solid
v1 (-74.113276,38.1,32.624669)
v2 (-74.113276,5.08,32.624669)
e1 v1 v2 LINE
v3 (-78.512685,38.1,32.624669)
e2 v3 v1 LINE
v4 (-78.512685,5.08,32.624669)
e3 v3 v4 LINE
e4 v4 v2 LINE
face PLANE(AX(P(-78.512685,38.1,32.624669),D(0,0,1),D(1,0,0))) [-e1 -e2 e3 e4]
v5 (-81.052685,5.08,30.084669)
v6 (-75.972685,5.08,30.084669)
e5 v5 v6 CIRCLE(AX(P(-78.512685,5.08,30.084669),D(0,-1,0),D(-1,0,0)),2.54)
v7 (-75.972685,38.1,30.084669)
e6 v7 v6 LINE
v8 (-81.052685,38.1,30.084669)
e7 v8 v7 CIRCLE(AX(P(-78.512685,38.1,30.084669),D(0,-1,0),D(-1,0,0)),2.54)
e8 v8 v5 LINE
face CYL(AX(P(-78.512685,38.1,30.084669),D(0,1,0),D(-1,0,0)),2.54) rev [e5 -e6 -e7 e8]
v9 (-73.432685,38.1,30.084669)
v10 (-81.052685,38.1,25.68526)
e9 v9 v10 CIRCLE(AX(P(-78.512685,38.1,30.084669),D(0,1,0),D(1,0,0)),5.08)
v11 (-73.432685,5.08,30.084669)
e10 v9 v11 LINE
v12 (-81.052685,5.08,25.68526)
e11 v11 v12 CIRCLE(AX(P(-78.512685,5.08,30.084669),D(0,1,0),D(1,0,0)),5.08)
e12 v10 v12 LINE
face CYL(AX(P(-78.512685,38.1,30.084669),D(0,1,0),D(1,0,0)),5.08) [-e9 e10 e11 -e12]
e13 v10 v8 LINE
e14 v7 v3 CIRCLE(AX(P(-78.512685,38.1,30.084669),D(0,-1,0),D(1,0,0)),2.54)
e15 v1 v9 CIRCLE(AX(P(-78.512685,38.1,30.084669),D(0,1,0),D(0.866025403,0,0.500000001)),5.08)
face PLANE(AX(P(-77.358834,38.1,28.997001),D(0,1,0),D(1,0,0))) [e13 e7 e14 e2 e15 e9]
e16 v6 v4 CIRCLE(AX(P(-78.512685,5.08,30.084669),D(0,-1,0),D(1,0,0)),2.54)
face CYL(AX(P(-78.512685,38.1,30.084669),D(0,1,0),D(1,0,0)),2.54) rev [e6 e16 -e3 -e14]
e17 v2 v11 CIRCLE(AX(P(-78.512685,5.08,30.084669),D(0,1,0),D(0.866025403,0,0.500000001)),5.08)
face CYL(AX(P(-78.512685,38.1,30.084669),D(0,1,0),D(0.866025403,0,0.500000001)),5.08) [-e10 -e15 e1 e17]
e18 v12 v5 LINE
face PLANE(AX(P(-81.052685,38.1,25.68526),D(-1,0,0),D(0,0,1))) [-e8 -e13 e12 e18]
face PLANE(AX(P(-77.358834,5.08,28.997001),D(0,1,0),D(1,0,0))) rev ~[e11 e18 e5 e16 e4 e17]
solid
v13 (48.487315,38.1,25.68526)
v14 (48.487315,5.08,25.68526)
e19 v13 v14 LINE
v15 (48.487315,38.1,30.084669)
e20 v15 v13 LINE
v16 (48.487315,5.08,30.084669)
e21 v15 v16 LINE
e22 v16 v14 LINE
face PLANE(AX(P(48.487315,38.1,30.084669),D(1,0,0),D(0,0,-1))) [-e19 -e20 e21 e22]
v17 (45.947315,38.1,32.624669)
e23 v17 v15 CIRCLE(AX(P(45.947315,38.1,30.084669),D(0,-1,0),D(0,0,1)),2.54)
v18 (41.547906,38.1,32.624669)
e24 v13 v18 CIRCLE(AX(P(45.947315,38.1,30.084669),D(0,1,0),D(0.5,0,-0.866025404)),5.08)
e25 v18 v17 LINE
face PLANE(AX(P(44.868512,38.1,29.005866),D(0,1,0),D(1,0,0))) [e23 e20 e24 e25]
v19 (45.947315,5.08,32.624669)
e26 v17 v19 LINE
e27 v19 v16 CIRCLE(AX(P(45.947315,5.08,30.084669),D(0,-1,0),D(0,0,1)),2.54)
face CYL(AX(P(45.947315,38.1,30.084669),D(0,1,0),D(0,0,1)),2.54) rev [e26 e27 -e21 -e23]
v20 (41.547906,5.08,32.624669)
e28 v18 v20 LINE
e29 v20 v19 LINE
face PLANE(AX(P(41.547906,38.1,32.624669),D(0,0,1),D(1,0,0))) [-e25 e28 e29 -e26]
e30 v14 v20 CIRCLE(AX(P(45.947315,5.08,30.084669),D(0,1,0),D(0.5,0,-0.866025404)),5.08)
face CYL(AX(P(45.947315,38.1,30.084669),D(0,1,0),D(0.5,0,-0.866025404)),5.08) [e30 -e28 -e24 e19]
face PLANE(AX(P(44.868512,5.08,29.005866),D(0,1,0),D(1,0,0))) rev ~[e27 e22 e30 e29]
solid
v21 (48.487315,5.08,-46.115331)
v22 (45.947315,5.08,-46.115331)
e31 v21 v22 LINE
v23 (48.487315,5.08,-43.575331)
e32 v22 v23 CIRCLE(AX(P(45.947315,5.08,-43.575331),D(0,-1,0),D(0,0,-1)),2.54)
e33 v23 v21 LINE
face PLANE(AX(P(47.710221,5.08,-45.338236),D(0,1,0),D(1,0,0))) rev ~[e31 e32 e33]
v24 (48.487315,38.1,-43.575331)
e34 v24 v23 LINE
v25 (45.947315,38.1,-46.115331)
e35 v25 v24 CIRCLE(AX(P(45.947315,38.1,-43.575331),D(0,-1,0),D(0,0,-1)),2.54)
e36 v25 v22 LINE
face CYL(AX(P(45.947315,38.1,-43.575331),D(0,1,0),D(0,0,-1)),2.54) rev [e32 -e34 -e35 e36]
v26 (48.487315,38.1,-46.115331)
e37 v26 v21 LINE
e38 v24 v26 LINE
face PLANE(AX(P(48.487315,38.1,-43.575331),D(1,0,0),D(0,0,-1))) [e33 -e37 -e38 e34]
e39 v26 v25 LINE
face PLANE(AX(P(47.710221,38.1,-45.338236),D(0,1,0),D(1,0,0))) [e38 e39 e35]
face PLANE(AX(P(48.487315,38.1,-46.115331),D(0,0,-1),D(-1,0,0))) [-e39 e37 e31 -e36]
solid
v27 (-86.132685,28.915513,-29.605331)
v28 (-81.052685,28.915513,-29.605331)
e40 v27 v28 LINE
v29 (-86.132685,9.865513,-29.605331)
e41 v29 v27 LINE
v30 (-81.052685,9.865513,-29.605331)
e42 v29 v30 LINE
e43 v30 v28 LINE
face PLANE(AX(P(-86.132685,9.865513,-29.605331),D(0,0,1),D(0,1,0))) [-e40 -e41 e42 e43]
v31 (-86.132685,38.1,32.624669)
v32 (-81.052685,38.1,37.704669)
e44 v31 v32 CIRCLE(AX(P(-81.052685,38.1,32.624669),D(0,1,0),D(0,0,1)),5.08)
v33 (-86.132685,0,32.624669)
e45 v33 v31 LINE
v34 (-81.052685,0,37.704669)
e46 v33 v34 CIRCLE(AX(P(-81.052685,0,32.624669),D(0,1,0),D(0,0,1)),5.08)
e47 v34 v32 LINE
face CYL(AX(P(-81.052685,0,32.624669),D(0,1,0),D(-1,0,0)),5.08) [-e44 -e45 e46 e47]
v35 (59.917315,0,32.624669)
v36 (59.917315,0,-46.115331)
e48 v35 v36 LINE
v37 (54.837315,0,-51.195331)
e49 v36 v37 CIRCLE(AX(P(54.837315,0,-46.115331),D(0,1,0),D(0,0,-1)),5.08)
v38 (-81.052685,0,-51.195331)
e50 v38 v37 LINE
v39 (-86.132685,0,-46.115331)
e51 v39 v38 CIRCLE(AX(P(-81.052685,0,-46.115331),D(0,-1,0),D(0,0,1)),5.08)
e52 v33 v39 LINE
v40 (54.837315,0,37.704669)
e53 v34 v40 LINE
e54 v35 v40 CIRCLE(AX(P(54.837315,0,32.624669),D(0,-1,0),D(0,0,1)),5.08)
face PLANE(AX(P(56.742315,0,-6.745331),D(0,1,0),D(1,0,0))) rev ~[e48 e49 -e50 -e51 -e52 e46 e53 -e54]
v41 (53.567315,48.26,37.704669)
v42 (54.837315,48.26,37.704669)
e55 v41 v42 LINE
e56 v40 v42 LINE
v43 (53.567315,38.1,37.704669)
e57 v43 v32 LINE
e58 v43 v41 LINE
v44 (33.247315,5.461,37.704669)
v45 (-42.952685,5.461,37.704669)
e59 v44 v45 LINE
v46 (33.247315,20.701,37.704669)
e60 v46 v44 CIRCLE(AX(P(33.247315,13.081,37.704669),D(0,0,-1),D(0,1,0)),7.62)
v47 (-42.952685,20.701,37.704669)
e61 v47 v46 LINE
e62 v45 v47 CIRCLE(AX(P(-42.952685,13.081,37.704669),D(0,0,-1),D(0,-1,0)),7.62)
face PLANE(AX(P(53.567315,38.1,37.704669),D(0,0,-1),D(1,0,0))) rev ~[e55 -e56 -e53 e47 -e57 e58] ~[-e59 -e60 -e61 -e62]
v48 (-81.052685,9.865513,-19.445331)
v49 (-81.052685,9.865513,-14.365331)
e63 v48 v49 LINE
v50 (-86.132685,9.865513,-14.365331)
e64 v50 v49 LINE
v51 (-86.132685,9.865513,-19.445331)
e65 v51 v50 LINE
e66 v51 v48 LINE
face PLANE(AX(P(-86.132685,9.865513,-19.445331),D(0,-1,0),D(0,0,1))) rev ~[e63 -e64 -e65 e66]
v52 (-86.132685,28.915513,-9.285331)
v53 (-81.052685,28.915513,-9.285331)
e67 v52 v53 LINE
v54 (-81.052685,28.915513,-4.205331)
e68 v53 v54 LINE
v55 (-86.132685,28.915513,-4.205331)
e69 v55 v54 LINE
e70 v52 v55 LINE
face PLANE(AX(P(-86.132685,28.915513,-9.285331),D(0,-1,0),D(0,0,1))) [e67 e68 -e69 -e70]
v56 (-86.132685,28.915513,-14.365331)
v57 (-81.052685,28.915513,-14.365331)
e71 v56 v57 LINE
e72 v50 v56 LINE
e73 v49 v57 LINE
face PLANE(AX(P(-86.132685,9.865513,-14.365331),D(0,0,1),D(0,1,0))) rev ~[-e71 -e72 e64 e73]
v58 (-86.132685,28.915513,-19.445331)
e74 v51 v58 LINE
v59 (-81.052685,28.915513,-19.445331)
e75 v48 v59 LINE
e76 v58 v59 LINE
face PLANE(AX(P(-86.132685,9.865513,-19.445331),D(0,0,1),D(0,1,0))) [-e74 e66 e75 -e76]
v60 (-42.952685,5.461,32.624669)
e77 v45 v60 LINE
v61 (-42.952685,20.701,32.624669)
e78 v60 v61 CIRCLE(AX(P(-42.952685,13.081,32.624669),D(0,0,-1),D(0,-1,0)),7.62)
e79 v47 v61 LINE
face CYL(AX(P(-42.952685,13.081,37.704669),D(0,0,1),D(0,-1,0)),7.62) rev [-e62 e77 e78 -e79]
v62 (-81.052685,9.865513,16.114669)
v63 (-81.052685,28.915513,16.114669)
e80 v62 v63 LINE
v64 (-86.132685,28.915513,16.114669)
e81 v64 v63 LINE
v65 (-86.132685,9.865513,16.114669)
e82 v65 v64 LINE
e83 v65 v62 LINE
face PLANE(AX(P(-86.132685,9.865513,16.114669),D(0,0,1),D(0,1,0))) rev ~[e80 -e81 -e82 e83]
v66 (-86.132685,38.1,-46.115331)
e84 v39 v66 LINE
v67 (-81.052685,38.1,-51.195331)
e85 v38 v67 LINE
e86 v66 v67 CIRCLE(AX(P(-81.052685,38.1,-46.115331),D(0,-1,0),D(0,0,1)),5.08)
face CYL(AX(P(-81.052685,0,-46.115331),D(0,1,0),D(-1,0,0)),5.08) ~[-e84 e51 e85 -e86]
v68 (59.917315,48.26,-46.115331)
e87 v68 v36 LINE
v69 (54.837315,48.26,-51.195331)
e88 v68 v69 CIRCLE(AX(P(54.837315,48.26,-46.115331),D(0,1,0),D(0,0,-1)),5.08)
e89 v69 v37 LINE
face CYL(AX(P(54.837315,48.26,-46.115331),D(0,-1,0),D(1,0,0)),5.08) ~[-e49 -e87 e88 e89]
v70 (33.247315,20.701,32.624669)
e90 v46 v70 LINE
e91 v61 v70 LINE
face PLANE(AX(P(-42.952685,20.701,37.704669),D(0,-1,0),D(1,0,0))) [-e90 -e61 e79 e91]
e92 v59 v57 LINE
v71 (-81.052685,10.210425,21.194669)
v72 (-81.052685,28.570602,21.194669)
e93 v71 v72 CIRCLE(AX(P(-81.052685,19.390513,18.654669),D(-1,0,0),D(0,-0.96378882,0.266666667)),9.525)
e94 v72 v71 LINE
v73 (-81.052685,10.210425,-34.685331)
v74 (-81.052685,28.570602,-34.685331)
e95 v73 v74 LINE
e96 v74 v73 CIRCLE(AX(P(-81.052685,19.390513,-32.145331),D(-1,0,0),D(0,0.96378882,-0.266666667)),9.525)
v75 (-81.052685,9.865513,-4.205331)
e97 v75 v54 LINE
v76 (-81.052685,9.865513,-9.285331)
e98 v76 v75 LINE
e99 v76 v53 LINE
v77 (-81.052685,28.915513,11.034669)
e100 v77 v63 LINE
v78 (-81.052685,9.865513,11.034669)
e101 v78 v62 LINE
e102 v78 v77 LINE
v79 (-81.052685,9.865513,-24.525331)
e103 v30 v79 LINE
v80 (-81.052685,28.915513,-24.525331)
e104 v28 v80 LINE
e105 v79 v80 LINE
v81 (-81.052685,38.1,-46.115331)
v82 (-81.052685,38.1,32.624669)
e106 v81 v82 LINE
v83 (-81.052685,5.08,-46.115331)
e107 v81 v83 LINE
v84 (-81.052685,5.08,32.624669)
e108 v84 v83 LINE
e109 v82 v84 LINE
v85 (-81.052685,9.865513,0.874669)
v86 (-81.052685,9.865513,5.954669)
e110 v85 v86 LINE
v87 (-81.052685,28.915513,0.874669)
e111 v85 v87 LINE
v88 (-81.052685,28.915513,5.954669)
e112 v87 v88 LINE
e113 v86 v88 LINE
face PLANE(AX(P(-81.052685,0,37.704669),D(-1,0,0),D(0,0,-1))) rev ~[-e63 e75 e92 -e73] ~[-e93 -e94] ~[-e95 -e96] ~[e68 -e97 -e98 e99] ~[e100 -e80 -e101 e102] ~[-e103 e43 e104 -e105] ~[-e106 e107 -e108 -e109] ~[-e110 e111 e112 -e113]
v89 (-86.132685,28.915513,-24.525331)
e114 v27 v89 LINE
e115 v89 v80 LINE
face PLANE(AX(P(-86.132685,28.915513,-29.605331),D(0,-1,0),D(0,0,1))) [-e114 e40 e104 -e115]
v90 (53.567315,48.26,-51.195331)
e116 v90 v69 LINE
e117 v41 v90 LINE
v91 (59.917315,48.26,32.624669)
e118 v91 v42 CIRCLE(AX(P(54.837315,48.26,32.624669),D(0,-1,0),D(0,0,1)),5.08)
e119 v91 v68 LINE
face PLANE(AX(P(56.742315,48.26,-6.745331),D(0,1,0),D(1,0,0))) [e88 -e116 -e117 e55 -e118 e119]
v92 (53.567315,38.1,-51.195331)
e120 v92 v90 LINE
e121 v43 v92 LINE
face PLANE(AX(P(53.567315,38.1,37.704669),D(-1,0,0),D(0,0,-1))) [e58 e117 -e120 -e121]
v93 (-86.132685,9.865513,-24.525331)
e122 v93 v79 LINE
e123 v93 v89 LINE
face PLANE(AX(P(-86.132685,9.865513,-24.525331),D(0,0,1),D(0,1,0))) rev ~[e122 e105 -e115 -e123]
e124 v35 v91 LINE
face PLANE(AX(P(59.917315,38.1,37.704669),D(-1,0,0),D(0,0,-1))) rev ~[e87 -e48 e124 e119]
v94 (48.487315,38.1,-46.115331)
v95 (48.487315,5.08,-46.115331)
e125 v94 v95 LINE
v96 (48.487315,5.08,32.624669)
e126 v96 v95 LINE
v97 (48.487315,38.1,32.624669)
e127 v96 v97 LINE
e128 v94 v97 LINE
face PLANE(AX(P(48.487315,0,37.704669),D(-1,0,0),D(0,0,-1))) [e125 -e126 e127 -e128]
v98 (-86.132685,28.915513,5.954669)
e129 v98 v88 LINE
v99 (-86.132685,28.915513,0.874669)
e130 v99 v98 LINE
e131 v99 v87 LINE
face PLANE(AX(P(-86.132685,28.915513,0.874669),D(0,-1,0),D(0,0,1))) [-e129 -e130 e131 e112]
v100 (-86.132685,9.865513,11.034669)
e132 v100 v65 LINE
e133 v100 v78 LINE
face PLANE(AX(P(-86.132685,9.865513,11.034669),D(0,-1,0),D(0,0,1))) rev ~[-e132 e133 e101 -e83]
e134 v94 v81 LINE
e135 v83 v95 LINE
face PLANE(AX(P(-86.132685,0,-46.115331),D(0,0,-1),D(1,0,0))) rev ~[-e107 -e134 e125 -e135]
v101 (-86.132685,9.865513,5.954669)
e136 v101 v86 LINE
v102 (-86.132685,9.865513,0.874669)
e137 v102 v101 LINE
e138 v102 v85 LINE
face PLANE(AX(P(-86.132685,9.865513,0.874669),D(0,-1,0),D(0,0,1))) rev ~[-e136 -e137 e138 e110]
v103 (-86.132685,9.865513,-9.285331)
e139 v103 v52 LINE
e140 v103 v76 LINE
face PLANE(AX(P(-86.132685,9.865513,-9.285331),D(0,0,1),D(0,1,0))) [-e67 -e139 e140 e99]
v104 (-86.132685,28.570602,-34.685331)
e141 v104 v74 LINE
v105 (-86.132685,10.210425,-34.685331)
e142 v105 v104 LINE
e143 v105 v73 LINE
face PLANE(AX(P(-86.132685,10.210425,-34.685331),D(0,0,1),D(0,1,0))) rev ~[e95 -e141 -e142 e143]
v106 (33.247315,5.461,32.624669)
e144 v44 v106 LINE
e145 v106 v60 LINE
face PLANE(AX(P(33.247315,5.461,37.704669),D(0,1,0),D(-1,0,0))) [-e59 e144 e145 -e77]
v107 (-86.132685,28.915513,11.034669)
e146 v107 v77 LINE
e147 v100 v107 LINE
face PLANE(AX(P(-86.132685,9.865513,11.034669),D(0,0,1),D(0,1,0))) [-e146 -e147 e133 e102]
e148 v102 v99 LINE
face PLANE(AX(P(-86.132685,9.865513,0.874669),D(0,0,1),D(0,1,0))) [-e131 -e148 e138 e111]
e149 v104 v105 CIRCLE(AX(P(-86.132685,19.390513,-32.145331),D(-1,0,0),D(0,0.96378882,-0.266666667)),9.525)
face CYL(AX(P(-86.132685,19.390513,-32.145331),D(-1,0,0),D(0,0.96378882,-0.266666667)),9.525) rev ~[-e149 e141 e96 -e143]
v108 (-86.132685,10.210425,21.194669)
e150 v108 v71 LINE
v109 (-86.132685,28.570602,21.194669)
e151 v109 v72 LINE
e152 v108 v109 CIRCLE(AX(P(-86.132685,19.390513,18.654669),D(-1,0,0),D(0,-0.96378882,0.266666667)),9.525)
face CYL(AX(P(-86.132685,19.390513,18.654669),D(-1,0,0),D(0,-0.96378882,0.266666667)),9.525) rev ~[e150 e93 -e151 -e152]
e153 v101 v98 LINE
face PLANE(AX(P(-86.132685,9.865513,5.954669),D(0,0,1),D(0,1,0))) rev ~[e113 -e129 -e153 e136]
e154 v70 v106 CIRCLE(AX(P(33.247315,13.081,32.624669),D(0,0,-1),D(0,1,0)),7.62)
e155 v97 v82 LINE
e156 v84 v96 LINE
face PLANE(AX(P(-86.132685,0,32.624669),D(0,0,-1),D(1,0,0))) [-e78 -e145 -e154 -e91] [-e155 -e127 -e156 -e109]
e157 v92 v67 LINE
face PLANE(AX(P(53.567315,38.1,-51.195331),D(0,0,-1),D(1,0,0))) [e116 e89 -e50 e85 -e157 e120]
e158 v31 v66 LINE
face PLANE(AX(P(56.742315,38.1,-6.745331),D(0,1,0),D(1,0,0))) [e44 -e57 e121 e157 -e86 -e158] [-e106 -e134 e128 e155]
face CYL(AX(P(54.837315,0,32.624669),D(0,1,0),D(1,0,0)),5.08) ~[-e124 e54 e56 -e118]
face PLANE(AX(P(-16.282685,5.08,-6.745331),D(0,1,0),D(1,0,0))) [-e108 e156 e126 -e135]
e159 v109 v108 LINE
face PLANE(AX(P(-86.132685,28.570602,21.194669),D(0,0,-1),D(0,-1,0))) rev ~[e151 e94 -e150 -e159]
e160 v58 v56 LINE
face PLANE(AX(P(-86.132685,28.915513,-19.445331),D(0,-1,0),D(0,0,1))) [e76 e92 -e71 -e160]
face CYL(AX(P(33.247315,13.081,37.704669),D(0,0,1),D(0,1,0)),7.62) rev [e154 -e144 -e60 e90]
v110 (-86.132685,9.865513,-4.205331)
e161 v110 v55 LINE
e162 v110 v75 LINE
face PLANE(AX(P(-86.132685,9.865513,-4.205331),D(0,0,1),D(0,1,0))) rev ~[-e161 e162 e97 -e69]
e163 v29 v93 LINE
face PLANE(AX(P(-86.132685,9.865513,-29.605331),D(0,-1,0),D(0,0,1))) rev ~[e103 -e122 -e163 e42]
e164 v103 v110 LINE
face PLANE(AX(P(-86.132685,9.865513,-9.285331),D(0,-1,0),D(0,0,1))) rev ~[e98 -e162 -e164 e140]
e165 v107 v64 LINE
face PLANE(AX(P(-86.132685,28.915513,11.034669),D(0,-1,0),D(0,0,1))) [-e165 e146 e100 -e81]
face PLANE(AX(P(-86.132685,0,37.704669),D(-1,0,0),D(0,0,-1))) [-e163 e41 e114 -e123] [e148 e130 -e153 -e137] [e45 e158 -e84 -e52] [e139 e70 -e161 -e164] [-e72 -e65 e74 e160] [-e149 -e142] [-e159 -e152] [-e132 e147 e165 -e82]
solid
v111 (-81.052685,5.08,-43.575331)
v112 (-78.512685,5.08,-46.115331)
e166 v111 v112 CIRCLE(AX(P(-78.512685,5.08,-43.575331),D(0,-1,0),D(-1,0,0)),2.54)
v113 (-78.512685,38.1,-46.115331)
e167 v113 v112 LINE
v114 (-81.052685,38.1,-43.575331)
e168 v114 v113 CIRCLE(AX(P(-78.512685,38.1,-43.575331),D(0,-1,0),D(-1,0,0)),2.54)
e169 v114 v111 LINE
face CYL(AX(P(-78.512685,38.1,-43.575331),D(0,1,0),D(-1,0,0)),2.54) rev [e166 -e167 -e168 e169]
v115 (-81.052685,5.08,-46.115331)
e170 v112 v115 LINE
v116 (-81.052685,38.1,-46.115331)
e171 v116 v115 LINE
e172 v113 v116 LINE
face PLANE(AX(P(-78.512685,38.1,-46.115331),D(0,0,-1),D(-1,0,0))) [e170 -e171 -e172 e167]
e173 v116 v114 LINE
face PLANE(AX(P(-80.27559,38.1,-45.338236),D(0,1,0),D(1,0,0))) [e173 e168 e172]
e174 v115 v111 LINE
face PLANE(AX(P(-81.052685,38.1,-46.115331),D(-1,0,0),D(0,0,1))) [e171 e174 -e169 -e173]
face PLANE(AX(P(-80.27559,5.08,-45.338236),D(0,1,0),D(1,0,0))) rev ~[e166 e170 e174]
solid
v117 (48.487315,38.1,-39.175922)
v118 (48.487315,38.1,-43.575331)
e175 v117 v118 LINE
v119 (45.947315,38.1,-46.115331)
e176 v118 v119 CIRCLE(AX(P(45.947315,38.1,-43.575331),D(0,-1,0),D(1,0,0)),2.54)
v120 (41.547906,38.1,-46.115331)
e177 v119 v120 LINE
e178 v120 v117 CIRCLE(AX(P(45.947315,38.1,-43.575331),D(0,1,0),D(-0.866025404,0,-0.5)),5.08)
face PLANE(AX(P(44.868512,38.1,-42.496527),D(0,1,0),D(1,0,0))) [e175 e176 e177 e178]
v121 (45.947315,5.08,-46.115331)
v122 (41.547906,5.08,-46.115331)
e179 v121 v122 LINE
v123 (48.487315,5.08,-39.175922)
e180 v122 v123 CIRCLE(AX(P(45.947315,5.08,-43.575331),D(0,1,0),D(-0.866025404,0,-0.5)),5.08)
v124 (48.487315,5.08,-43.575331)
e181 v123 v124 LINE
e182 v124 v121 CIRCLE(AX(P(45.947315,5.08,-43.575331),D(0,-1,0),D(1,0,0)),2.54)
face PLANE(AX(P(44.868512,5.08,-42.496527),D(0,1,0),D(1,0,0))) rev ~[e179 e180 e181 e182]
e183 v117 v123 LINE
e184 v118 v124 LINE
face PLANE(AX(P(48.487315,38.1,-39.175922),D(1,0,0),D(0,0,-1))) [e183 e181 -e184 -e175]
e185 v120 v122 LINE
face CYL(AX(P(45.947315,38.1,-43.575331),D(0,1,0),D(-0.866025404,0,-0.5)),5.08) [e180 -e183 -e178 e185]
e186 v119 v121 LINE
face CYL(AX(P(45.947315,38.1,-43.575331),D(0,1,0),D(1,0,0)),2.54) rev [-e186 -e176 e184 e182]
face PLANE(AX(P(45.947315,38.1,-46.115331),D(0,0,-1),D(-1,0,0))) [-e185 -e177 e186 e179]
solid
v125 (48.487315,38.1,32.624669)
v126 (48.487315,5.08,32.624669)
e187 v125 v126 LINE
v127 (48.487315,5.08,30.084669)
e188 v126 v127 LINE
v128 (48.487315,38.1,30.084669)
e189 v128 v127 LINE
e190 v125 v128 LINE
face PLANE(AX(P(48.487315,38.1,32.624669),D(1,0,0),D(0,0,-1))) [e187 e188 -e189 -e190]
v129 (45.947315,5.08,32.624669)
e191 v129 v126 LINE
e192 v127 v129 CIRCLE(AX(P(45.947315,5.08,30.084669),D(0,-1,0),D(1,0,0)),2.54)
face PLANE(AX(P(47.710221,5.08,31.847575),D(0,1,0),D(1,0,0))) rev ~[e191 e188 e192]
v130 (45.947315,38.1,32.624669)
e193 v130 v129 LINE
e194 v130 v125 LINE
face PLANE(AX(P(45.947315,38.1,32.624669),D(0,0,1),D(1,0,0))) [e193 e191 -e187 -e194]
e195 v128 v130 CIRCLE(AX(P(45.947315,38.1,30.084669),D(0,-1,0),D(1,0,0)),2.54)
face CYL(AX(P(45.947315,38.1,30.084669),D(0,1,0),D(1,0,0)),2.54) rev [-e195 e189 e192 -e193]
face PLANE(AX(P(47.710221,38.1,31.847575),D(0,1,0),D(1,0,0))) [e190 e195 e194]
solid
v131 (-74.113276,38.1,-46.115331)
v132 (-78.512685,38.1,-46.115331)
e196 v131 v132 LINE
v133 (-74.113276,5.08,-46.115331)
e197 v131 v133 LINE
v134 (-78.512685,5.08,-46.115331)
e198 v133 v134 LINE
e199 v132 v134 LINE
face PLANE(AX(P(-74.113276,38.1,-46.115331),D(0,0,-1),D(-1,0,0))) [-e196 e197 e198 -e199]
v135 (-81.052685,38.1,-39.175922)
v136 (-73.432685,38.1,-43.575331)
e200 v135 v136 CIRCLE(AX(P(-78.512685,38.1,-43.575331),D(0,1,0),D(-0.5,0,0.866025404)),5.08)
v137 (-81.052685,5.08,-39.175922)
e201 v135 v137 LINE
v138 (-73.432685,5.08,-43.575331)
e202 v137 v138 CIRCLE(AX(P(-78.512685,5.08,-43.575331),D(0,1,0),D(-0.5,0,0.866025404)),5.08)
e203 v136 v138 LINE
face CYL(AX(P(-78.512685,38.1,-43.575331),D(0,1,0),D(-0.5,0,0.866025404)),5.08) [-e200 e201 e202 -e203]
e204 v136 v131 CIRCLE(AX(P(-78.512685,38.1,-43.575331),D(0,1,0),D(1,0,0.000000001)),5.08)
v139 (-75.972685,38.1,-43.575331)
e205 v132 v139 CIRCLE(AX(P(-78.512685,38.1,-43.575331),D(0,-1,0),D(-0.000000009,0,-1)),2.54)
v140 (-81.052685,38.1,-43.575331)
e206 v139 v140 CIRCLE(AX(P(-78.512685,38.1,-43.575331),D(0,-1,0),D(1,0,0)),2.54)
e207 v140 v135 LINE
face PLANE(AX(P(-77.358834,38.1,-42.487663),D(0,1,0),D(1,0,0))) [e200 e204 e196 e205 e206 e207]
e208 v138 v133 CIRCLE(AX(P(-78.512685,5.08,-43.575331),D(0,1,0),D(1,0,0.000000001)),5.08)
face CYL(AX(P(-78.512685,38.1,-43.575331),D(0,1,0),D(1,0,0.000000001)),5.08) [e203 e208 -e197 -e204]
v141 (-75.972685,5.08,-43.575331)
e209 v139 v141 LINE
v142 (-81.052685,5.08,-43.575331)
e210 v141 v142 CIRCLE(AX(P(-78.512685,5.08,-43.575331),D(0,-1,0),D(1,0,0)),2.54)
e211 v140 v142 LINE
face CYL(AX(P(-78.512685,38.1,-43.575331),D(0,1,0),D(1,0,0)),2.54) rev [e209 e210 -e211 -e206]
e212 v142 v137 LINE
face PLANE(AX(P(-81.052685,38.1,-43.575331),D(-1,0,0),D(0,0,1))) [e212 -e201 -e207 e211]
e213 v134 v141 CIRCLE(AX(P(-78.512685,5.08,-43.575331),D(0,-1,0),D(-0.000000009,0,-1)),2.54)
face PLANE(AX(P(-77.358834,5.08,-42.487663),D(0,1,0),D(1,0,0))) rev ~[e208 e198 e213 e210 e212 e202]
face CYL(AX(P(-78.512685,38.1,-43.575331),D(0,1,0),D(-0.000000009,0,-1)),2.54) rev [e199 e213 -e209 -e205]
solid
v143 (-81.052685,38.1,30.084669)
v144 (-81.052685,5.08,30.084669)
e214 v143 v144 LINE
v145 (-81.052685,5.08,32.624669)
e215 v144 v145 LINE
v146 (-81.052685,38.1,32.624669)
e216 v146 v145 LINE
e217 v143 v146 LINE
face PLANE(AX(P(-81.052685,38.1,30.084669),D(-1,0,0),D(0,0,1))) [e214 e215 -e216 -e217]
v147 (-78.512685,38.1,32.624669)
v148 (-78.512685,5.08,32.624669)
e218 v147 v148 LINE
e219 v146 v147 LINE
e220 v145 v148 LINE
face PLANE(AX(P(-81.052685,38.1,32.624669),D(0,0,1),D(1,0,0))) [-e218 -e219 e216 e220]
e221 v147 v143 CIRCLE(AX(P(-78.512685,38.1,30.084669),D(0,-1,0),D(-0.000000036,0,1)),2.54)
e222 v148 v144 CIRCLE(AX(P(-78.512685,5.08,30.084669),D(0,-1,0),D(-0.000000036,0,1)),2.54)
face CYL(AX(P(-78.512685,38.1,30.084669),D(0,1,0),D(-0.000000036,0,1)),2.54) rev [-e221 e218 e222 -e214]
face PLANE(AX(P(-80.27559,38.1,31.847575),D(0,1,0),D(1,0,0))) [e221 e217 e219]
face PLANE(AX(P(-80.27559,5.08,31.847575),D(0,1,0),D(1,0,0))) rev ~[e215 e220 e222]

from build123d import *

# Parameters (mm, degrees)
SKETCH1_W             = 139.7
SKETCH1_H             = 88.9
BOSS_EXTRUDE1_DEPTH   = 38.1
SHELL1_T              = -5.08
SKETCH2_W             = 5.08
SKETCH2_H             = 19.05
CUT_EXTRUDE1_DEPTH    = 5.08
CUT_EXTRUDE2_DEPTH    = 5.08
BOSS_EXTRUDE2_DEPTH   = 33.02
BOSS_EXTRUDE2_2_DEPTH = 33.02
BOSS_EXTRUDE2_3_DEPTH = 33.02
BOSS_EXTRUDE2_4_DEPTH = 33.02
BOSS_EXTRUDE2_5_DEPTH = 33.02
BOSS_EXTRUDE2_6_DEPTH = 33.02
BOSS_EXTRUDE2_7_DEPTH = 33.02
BOSS_EXTRUDE2_8_DEPTH = 33.02
SKETCH5_W             = 6.35
SKETCH5_H             = 88.9
BOSS_EXTRUDE3_DEPTH   = 38.1
SKETCH6_W             = 6.35
SKETCH6_H             = 88.9
BOSS_EXTRUDE4_DEPTH   = 10.16
FILLET1_R             = 5.08


with BuildPart() as part:
    # Sketch1 → Boss-Extrude1 (new body)
    with BuildSketch(Plane(origin=(0, 0, 0), x_dir=(1, 0, 0), z_dir=(0, 1, 0))):
        with Locations((-16.282684825, 6.745330739)):
            Rectangle(SKETCH1_W, SKETCH1_H)
    extrude(amount=BOSS_EXTRUDE1_DEPTH)

    # Shell1
    shell1_openings = [part.faces().sort_by_distance(p)[0] for p in [
        (-16.282684825, 38.1, -6.745330739),
    ]]
    offset(amount=SHELL1_T, openings=shell1_openings, kind=Kind.INTERSECTION)

    # Sketch2 → Cut-Extrude1 (cut)
    with BuildSketch(Plane.ZY.offset(86.132684825)):
        with BuildLine():
            Line((-34.685330739, 10.210424953), (-34.685330739, 28.570601967))
            ThreePointArc((-34.685330739, 28.570601967), (-41.670330739, 19.39051346), (-34.685330739, 10.210424953))
        make_face()
        with Locations((-27.065330739, 19.39051346)):
            Rectangle(SKETCH2_W, SKETCH2_H)
        with Locations((-16.905330739, 19.39051346)):
            Rectangle(SKETCH2_W, SKETCH2_H)
        with Locations((-6.745330739, 19.39051346)):
            Rectangle(SKETCH2_W, SKETCH2_H)
        with Locations((3.414669261, 19.39051346)):
            Rectangle(SKETCH2_W, SKETCH2_H)
        with Locations((13.574669261, 19.39051346)):
            Rectangle(SKETCH2_W, SKETCH2_H)
        with BuildLine():
            ThreePointArc((21.194669261, 10.210424953), (28.179669261, 19.39051346), (21.194669261, 28.570601967))
            Line((21.194669261, 28.570601967), (21.194669261, 10.210424953))
        make_face()
    extrude(amount=-CUT_EXTRUDE1_DEPTH, mode=Mode.SUBTRACT)

    # Sketch3 → Cut-Extrude2 (cut)
    with BuildSketch(Plane.XY.offset(37.704669261)):
        with BuildLine():
            Line((33.247315175, 5.461), (-42.952684825, 5.461))
            ThreePointArc((-42.952684825, 5.461), (-50.572684825, 13.081), (-42.952684825, 20.701))
            Line((-42.952684825, 20.701), (33.247315175, 20.701))
            ThreePointArc((33.247315175, 20.701), (40.867315175, 13.081), (33.247315175, 5.461))
        make_face()
    extrude(amount=-CUT_EXTRUDE2_DEPTH, mode=Mode.SUBTRACT)

    # Sketch5 → Boss-Extrude3 (add)
    with BuildSketch(Plane(origin=(0, 38.1, 0), x_dir=(1, 0, 0), z_dir=(0, 1, 0))):
        with Locations((56.742315175, 6.745330739)):
            Rectangle(SKETCH5_W, SKETCH5_H)
    extrude(amount=-BOSS_EXTRUDE3_DEPTH)

    # Sketch6 → Boss-Extrude4 (add)
    with BuildSketch(Plane(origin=(0, 38.1, 0), x_dir=(1, 0, 0), z_dir=(0, 1, 0))):
        with Locations((56.742315175, 6.745330739)):
            Rectangle(SKETCH6_W, SKETCH6_H)
    extrude(amount=BOSS_EXTRUDE4_DEPTH)

    # Fillet1
    fillet1_edges = [part.edges().sort_by_distance(p)[0] for p in [
        (59.917315175, 24.13, -51.195330739),
        (59.917315175, 24.13, 37.704669261),
        (-86.132684825, 19.05, -51.195330739),
        (-86.132684825, 19.05, 37.704669261),
    ]]
    fillet(fillet1_edges, radius=FILLET1_R)


with BuildPart() as body_2:
    # Sketch4 → Boss-Extrude2 (new body)
    with BuildSketch(Plane(origin=(0, 38.1, 0), x_dir=(1, 0, 0), z_dir=(0, 1, 0))):
        with BuildLine():
            Line((48.487315175, 46.115330739), (45.947315175, 46.115330739))
            ThreePointArc((45.947315175, 46.115330739), (47.743366399, 45.371381964), (48.487315175, 43.575330739))
            Line((48.487315175, 43.575330739), (48.487315175, 46.115330739))
        make_face()
    extrude(amount=-BOSS_EXTRUDE2_DEPTH)


with BuildPart() as body_3:
    # Sketch4 → Boss-Extrude2 2 (new body)
    with BuildSketch(Plane(origin=(0, 38.1, 0), x_dir=(1, 0, 0), z_dir=(0, 1, 0))):
        with BuildLine():
            Line((45.947315175, 46.115330739), (41.547906124, 46.115330739))
            ThreePointArc((41.547906124, 46.115330739), (42.355212727, 39.983228291), (48.487315175, 39.175921688))
            Line((48.487315175, 39.175921688), (48.487315175, 43.575330739))
            ThreePointArc((48.487315175, 43.575330739), (44.151263951, 41.779279515), (45.947315175, 46.115330739))
        make_face()
    extrude(amount=-BOSS_EXTRUDE2_2_DEPTH)


with BuildPart() as body_4:
    # Sketch4 → Boss-Extrude2 3 (new body)
    with BuildSketch(Plane(origin=(0, 38.1, 0), x_dir=(1, 0, 0), z_dir=(0, 1, 0))):
        with BuildLine():
            Line((48.487315175, -32.624669261), (48.487315175, -30.084669261))
            ThreePointArc((48.487315175, -30.084669261), (47.743366399, -31.880720485), (45.947315175, -32.624669261))
            Line((45.947315175, -32.624669261), (48.487315175, -32.624669261))
        make_face()
    extrude(amount=-BOSS_EXTRUDE2_3_DEPTH)


with BuildPart() as body_5:
    # Sketch4 → Boss-Extrude2 4 (new body)
    with BuildSketch(Plane(origin=(0, 38.1, 0), x_dir=(1, 0, 0), z_dir=(0, 1, 0))):
        with BuildLine():
            Line((48.487315175, -30.084669261), (48.487315175, -25.685260209))
            ThreePointArc((48.487315175, -25.685260209), (42.355212727, -26.492566812), (41.547906124, -32.624669261))
            Line((41.547906124, -32.624669261), (45.947315175, -32.624669261))
            ThreePointArc((45.947315175, -32.624669261), (44.151263951, -28.288618036), (48.487315175, -30.084669261))
        make_face()
    extrude(amount=-BOSS_EXTRUDE2_4_DEPTH)


with BuildPart() as body_6:
    # Sketch4 → Boss-Extrude2 5 (new body)
    with BuildSketch(Plane(origin=(0, 38.1, 0), x_dir=(1, 0, 0), z_dir=(0, 1, 0))):
        with BuildLine():
            ThreePointArc((-78.512684916, -32.624669261), (-80.308736081, -31.880720453), (-81.052684825, -30.084669261))
            Line((-81.052684825, -30.084669261), (-81.052684825, -32.624669261))
            Line((-81.052684825, -32.624669261), (-78.512684916, -32.624669261))
        make_face()
    extrude(amount=-BOSS_EXTRUDE2_5_DEPTH)


with BuildPart() as body_7:
    # Sketch4 → Boss-Extrude2 6 (new body)
    with BuildSketch(Plane(origin=(0, 38.1, 0), x_dir=(1, 0, 0), z_dir=(0, 1, 0))):
        with BuildLine():
            ThreePointArc((-73.432684825, -30.084669261), (-75.972684825, -25.685260209), (-81.052684825, -25.685260209))
            Line((-81.052684825, -25.685260209), (-81.052684825, -30.084669261))
            ThreePointArc((-81.052684825, -30.084669261), (-78.512684825, -27.544669261), (-75.972684825, -30.084669261))
            ThreePointArc((-75.972684825, -30.084669261), (-76.716633633, -31.880720517), (-78.512684916, -32.624669261))
            Line((-78.512684916, -32.624669261), (-74.113275774, -32.624669261))
            ThreePointArc((-74.113275774, -32.624669261), (-73.605781627, -31.39947001), (-73.432684825, -30.084669261))
        make_face()
    extrude(amount=-BOSS_EXTRUDE2_6_DEPTH)


with BuildPart() as body_8:
    # Sketch4 → Boss-Extrude2 7 (new body)
    with BuildSketch(Plane(origin=(0, 38.1, 0), x_dir=(1, 0, 0), z_dir=(0, 1, 0))):
        with BuildLine():
            ThreePointArc((-81.052684825, 43.575330739), (-80.308736057, 45.371381956), (-78.512684847, 46.115330739))
            Line((-78.512684847, 46.115330739), (-81.052684825, 46.115330739))
            Line((-81.052684825, 46.115330739), (-81.052684825, 43.575330739))
        make_face()
    extrude(amount=-BOSS_EXTRUDE2_7_DEPTH)


with BuildPart() as body_9:
    # Sketch4 → Boss-Extrude2 8 (new body)
    with BuildSketch(Plane(origin=(0, 38.1, 0), x_dir=(1, 0, 0), z_dir=(0, 1, 0))):
        with BuildLine():
            ThreePointArc((-78.512684847, 46.115330739), (-76.716633608, 45.371381971), (-75.972684825, 43.575330739))
            ThreePointArc((-75.972684825, 43.575330739), (-78.512684825, 41.035330739), (-81.052684825, 43.575330739))
            Line((-81.052684825, 43.575330739), (-81.052684825, 39.175921688))
            ThreePointArc((-81.052684825, 39.175921688), (-75.972684825, 39.175921688), (-73.432684825, 43.575330739))
            ThreePointArc((-73.432684825, 43.575330739), (-73.605781627, 44.890131488), (-74.113275774, 46.115330739))
            Line((-74.113275774, 46.115330739), (-78.512684847, 46.115330739))
        make_face()
    extrude(amount=-BOSS_EXTRUDE2_8_DEPTH)


solid = Compound([part.part, body_2.part, body_3.part, body_4.part, body_5.part, body_6.part, body_7.part, body_8.part, body_9.part])
